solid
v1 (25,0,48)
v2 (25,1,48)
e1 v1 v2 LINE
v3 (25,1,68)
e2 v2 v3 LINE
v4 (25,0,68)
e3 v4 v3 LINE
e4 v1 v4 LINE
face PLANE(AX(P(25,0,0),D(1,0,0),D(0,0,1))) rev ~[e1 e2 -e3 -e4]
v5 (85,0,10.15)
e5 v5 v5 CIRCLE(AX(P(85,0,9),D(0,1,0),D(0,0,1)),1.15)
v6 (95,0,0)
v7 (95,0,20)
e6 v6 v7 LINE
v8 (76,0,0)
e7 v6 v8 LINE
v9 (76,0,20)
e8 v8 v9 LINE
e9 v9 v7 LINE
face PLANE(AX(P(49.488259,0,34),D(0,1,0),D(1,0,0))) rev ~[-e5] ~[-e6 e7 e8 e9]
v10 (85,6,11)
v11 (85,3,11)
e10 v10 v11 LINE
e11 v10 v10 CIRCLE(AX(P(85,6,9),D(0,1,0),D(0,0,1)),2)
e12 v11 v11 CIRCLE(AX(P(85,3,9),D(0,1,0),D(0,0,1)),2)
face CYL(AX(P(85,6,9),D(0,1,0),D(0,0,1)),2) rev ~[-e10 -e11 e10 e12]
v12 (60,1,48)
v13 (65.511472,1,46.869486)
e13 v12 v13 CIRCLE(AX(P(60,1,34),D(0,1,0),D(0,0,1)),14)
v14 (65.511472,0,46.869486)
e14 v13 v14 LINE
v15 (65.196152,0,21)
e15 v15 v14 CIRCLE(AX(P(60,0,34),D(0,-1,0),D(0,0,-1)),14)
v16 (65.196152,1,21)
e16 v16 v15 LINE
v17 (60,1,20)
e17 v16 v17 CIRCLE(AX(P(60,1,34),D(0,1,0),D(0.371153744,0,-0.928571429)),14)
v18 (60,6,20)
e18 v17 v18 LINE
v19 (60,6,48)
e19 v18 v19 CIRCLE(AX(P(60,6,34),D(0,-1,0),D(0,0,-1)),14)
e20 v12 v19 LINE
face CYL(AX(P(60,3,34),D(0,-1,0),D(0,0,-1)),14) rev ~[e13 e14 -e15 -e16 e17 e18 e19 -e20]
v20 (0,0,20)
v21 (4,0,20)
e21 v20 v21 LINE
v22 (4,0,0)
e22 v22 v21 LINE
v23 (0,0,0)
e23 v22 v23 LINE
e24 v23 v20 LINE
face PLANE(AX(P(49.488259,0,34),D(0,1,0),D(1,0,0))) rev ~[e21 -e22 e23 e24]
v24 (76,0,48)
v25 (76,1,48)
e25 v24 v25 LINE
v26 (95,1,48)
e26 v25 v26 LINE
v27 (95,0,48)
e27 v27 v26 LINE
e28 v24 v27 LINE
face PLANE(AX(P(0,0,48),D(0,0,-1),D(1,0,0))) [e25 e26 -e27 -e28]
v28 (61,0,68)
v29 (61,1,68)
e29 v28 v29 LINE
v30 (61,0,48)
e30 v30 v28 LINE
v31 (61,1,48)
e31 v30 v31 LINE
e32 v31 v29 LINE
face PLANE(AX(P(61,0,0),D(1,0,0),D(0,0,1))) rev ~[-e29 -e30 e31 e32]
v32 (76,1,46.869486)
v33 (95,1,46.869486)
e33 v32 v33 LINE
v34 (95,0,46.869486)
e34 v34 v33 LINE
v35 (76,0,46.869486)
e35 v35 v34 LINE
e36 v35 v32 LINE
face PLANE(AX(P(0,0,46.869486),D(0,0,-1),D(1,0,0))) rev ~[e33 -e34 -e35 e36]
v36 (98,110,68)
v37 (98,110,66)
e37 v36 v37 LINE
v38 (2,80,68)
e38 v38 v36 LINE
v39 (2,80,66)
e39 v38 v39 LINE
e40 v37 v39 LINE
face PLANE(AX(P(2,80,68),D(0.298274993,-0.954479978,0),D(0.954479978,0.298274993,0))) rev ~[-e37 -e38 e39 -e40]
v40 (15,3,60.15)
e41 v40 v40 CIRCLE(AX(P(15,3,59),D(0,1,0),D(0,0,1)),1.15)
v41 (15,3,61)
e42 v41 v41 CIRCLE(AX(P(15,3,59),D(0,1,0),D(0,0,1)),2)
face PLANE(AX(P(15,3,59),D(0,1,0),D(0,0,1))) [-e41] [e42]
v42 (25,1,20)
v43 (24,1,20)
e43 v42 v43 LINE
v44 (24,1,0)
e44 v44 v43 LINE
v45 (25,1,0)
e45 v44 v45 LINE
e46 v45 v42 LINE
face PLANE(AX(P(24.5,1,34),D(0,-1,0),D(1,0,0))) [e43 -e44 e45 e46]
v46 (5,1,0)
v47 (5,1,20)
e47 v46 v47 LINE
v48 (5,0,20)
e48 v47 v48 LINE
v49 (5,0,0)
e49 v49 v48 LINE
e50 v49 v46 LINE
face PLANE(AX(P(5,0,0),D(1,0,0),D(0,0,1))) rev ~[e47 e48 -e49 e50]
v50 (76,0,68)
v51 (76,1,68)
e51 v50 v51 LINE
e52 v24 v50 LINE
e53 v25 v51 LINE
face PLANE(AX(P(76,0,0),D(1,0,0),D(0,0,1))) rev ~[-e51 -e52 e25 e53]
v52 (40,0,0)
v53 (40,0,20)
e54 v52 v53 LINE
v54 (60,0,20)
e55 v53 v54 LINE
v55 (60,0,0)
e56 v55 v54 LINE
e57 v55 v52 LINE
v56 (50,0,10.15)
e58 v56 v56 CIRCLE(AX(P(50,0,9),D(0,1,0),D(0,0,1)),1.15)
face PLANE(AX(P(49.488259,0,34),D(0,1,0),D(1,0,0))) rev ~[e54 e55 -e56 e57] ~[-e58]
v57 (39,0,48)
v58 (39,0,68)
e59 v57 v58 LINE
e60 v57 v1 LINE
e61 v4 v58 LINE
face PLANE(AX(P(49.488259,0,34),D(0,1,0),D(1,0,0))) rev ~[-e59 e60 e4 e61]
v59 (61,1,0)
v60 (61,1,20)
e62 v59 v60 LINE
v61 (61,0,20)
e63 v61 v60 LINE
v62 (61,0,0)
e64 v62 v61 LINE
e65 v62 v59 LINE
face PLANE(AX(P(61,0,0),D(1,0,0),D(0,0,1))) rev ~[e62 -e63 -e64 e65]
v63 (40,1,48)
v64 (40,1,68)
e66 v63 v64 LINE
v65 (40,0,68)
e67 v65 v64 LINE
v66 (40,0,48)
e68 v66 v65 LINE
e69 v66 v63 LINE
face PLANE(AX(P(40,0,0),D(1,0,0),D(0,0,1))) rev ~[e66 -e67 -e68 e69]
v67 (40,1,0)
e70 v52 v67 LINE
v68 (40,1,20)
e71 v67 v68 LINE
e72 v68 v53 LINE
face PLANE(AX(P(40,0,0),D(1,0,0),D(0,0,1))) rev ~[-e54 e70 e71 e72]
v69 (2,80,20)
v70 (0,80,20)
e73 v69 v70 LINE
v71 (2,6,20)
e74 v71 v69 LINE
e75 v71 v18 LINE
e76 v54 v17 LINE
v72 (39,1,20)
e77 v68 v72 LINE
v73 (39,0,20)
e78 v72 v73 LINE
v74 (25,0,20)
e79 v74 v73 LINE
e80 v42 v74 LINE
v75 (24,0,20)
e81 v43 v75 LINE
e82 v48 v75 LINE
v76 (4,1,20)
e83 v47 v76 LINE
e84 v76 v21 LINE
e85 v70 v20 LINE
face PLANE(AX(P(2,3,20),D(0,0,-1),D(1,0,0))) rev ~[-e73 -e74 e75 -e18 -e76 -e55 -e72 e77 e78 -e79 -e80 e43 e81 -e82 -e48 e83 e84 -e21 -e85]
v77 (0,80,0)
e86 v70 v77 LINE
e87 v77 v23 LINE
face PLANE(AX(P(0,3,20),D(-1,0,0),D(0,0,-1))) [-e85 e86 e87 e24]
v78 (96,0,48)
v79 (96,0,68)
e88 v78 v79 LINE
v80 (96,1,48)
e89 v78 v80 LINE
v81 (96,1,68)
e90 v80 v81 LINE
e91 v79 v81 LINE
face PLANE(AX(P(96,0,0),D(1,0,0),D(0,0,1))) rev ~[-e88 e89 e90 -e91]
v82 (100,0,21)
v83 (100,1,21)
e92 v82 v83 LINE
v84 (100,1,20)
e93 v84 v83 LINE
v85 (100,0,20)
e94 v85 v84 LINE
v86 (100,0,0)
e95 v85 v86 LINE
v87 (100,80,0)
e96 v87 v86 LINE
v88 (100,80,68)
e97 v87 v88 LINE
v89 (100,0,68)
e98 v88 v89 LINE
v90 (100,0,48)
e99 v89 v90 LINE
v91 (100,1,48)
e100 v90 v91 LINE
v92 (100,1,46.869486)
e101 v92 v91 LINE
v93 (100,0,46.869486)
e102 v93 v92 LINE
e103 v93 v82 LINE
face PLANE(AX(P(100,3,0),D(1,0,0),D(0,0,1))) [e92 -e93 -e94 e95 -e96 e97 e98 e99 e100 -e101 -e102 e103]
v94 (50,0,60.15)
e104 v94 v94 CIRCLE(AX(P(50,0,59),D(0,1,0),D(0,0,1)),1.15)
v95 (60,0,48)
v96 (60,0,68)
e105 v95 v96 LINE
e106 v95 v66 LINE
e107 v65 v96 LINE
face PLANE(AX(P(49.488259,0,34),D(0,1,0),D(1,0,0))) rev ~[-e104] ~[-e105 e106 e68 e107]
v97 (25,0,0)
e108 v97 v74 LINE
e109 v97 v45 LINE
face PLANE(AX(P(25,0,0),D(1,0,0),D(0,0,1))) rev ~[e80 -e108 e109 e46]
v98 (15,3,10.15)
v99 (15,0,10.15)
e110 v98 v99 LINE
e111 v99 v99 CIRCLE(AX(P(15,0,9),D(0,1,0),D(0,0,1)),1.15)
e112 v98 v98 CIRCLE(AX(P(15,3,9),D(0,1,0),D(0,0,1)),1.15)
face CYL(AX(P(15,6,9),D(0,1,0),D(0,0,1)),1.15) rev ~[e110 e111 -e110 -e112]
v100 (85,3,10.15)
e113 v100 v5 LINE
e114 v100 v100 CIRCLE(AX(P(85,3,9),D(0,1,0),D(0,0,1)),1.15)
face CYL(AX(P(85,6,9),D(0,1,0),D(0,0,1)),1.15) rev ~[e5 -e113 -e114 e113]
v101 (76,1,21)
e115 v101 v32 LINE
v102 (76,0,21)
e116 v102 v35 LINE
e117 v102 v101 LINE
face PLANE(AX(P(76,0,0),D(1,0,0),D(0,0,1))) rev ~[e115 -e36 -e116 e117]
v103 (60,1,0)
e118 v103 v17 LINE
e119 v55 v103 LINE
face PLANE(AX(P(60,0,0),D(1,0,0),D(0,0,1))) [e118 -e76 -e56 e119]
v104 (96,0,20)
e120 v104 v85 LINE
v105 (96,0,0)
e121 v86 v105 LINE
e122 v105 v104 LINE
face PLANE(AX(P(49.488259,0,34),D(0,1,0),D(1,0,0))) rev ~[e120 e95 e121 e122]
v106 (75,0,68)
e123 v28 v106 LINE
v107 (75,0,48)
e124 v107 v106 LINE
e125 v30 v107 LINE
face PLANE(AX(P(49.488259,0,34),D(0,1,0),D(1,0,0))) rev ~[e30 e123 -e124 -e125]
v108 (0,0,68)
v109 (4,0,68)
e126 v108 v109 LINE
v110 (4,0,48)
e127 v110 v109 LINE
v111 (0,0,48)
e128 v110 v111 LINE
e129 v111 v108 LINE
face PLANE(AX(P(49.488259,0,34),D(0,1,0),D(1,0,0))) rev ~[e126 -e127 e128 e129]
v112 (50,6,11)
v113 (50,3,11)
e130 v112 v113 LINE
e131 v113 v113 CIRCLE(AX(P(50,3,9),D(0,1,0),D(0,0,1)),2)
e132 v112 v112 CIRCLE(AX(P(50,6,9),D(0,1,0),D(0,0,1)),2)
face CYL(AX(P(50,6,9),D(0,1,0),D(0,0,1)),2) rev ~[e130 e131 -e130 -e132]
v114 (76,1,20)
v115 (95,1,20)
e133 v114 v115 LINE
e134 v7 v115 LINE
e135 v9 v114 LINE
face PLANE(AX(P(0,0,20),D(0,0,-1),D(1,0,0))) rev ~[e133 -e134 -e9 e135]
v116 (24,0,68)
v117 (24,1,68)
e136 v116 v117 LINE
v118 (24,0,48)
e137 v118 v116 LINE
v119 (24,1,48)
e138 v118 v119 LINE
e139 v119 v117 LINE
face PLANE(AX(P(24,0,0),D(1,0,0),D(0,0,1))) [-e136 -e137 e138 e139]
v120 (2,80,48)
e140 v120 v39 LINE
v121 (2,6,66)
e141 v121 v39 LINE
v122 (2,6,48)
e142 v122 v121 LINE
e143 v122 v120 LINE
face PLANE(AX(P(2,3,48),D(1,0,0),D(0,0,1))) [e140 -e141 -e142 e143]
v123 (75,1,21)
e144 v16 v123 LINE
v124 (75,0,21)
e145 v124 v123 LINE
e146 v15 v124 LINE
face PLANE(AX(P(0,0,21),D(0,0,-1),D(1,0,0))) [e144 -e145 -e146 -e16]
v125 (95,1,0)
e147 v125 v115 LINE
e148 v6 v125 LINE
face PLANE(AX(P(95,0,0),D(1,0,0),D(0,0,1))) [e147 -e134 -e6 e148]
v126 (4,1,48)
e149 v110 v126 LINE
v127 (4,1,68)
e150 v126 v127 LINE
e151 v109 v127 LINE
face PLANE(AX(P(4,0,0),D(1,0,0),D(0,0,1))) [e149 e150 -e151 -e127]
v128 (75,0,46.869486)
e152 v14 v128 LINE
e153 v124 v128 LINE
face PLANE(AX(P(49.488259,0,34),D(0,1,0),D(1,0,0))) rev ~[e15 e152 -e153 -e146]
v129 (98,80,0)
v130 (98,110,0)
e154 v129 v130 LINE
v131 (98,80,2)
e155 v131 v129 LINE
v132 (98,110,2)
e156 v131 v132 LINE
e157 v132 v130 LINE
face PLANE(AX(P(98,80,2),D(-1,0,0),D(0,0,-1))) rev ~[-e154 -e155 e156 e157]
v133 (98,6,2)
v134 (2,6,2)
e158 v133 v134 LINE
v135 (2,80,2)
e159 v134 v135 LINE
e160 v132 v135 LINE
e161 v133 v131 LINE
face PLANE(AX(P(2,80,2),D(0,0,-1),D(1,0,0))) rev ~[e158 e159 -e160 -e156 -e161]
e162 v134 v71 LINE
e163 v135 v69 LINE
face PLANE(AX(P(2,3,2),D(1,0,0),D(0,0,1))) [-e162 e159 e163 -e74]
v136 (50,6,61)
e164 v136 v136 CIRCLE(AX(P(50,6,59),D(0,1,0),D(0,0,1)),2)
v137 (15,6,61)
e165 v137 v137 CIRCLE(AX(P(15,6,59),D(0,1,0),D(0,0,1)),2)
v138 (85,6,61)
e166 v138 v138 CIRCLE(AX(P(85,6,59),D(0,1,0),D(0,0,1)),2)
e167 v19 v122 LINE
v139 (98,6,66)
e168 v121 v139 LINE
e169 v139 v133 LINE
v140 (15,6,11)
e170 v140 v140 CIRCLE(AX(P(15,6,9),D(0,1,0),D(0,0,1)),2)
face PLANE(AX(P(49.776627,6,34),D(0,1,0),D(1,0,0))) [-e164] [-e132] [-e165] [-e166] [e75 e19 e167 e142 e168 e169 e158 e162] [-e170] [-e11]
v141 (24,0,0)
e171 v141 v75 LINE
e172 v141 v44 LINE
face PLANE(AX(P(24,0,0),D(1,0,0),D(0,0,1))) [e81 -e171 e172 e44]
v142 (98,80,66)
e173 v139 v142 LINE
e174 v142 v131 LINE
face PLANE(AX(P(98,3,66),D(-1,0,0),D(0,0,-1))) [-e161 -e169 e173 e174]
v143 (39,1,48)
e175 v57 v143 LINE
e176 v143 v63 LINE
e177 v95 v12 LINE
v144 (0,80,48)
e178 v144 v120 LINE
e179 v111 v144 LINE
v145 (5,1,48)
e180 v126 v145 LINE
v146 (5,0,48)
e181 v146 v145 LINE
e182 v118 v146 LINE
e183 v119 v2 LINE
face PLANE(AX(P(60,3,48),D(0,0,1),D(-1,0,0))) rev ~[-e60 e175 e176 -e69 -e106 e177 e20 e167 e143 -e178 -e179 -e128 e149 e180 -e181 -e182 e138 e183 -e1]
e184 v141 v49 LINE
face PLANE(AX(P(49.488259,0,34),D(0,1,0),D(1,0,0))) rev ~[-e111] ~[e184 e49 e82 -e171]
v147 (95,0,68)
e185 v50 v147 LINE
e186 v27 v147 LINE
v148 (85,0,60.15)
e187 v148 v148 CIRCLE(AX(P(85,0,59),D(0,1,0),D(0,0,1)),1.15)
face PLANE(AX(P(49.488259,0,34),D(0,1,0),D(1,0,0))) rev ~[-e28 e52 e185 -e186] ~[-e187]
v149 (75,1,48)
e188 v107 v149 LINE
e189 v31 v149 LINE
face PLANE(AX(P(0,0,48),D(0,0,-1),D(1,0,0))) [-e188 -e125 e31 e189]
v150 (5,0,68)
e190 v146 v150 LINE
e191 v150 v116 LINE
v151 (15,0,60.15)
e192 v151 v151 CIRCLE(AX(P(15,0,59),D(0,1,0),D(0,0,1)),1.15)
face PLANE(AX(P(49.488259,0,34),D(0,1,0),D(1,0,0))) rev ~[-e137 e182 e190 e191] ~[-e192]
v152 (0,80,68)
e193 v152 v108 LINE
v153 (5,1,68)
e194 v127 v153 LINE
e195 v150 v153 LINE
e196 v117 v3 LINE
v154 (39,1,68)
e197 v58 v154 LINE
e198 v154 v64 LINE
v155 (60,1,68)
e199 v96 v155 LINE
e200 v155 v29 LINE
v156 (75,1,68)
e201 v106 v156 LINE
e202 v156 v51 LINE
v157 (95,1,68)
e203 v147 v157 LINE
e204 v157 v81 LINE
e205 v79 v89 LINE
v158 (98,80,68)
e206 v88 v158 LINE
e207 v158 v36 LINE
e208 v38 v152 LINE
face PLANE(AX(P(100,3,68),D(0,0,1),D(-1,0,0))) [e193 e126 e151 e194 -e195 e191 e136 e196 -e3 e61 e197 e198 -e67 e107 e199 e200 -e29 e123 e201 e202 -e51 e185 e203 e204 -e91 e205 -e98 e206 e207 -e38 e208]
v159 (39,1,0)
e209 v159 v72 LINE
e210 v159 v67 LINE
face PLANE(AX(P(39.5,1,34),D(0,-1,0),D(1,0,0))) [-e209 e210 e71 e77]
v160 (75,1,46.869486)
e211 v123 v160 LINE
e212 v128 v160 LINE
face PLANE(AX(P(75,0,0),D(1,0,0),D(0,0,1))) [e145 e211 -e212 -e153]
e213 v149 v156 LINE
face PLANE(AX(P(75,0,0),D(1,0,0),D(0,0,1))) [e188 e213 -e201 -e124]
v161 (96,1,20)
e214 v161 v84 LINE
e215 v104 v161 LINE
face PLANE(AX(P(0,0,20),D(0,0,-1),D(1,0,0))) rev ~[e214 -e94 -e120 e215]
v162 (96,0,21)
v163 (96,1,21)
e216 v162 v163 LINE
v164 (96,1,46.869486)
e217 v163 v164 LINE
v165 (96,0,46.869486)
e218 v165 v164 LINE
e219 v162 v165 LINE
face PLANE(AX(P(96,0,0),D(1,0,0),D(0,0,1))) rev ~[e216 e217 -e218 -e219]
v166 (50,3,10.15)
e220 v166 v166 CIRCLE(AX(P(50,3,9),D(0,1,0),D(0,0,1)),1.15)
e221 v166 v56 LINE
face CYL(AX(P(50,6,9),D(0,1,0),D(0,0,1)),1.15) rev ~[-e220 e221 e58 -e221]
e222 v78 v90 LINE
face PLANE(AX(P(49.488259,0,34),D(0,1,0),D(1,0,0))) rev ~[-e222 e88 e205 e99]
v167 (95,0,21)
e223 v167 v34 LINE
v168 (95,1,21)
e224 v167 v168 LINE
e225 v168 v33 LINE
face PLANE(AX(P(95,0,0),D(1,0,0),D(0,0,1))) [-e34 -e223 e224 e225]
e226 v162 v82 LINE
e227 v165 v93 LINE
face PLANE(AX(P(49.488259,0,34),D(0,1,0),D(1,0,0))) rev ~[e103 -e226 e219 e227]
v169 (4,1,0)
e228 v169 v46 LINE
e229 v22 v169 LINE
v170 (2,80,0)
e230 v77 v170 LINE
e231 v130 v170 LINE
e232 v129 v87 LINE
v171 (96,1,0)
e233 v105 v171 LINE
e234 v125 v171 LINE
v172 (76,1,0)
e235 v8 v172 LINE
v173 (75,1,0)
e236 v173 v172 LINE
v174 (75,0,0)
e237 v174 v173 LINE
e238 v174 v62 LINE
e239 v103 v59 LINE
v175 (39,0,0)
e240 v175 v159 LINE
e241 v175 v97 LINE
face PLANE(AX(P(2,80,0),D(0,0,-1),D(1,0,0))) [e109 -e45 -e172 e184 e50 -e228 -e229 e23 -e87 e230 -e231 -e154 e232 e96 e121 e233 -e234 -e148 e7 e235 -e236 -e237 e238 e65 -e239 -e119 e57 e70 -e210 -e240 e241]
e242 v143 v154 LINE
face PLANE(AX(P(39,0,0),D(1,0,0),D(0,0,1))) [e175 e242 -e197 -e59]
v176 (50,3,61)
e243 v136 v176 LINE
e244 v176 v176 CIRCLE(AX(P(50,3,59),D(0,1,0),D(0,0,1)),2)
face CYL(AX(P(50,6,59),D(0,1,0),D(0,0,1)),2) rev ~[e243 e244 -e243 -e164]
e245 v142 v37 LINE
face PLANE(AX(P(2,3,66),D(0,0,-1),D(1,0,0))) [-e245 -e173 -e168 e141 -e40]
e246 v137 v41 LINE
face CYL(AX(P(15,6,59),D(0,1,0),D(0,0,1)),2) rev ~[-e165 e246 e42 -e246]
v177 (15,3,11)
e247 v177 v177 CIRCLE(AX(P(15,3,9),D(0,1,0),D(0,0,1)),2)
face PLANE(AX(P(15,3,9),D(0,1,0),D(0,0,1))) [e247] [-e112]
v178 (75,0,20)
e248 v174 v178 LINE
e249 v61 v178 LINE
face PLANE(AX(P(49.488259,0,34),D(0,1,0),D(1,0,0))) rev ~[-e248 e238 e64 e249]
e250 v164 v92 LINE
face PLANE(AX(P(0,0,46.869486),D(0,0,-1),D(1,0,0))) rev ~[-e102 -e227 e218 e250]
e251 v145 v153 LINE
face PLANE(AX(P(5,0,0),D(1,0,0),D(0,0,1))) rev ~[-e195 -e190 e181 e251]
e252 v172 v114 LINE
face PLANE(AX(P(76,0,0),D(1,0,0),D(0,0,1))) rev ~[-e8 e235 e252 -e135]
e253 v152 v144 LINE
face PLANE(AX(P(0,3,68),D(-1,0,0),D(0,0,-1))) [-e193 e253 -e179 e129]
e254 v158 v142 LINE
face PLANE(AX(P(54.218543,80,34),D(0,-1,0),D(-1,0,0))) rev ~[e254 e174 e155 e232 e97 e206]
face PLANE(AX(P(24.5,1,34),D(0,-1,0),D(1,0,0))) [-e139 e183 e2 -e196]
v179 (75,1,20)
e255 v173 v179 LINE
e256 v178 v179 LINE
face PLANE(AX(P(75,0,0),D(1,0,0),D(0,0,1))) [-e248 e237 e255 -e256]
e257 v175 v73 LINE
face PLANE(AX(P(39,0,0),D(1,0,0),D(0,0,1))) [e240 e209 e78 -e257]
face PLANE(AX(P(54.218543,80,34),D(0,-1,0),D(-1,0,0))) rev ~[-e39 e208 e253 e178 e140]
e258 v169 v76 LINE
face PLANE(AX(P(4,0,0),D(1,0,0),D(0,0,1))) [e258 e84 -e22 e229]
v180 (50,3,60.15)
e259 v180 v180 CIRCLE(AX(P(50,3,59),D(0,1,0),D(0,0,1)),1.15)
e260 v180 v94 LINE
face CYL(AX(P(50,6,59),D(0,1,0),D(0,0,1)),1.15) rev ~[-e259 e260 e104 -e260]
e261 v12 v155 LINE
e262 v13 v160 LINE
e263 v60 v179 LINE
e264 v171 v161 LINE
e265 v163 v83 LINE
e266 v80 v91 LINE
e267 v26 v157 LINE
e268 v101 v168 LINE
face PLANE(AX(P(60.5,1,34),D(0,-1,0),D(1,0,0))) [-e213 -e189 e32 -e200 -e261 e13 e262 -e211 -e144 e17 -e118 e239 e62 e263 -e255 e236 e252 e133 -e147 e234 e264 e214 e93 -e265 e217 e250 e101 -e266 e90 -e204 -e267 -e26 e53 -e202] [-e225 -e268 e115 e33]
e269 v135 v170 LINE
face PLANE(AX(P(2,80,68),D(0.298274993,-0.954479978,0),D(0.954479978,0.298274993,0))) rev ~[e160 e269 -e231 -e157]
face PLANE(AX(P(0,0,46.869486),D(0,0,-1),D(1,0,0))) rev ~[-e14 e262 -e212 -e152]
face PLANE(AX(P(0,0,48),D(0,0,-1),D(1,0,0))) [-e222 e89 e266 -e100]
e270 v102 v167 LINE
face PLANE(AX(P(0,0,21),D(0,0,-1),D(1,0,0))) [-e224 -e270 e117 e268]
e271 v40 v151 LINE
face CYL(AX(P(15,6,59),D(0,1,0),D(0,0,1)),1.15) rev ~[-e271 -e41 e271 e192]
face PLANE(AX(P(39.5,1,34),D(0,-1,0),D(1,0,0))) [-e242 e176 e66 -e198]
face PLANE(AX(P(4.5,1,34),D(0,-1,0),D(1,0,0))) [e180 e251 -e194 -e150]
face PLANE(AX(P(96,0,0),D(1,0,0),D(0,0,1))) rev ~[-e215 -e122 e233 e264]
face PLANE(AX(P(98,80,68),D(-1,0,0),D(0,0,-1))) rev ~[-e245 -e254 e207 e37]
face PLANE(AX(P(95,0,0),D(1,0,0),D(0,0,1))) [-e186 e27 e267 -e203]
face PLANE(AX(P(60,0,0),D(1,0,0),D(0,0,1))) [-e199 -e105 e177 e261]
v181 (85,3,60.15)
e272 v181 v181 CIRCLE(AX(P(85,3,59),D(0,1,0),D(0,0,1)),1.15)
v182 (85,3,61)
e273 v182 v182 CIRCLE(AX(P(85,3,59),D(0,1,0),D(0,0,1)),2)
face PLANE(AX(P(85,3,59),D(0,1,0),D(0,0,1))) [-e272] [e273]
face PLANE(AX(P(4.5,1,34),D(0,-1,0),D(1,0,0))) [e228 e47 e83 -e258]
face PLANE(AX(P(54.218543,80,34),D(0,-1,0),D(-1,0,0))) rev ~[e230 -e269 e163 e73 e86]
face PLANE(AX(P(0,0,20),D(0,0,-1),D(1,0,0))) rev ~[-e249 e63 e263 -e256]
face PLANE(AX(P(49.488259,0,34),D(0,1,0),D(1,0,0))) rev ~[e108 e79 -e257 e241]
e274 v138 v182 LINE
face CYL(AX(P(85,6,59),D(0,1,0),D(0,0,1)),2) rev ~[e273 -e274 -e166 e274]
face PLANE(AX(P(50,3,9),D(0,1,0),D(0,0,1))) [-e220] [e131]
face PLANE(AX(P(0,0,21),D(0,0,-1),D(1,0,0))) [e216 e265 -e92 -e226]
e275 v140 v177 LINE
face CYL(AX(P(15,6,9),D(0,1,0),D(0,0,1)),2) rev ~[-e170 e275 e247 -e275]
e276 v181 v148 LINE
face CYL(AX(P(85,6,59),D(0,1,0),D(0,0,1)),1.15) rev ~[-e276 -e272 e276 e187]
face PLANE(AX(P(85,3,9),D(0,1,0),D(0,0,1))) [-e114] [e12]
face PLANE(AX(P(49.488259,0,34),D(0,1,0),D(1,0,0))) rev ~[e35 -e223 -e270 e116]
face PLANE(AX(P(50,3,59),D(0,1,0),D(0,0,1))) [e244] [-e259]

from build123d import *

# Parameters (mm, degrees)
EXTRUDE_1_DEPTH     = 3
EXTRUDE_2_DEPTH     = 77
SKETCH_3_W          = 96
SKETCH_3_H          = 2
EXTRUDE_3_DEPTH     = 30
CUT_EXTRUDE_1_DEPTH = 164.474768695
EXTRUDE_4_DEPTH     = 3
SKETCH_8_R          = 2
CUT_EXTRUDE_2_DEPTH = 3
SKETCH_9_R          = 1.15
CUT_EXTRUDE_3_DEPTH = 23
SKETCH_10_W         = 1
SKETCH_10_H         = 68
CUT_EXTRUDE_4_DEPTH = 1
SKETCH_11_W         = 100
SKETCH_11_H         = 1.130513839
SKETCH_11_H_2       = 1
CUT_EXTRUDE_5_DEPTH = 1


with BuildPart() as part:
    # 草图1 → 凸台-拉伸1 (new body)
    with BuildSketch(Plane(origin=(0, 0, 0), x_dir=(1, 0, 0), z_dir=(0, 1, 0))):
        with BuildLine():
            Line((0, 0), (0, -20))
            Line((0, -20), (60, -20))
            ThreePointArc((60, -20), (74, -34), (60, -48))
            Line((60, -48), (0, -48))
            Line((0, -48), (0, -68))
            Line((0, -68), (100, -68))
            Line((100, -68), (100, 0))
            Line((100, 0), (0, 0))
        make_face()
    extrude(amount=EXTRUDE_1_DEPTH)

    # 草图2 → 凸台-拉伸2 (add)
    with BuildSketch(Plane(origin=(0, 3, 0), x_dir=(1, 0, 0), z_dir=(0, 1, 0))):
        Polygon((2, -20), (0, -20), (0, 0), (100, 0), (100, -68), (0, -68), (0, -48), (2, -48), (2, -66), (98, -66), (98, -2), (2, -2), align=None)
    extrude(amount=EXTRUDE_2_DEPTH)

    # 草图3 → 凸台-拉伸3 (add)
    with BuildSketch(Plane(origin=(0, 80, 0), x_dir=(1, 0, 0), z_dir=(0, 1, 0))):
        with Locations((50, -1)):
            Rectangle(SKETCH_3_W, SKETCH_3_H)
        with Locations((50, -67)):
            Rectangle(SKETCH_3_W, SKETCH_3_H)
    extrude(amount=EXTRUDE_3_DEPTH)

    # 草图6 → 切除-拉伸1 (cut, through all)
    with BuildSketch(Plane.XY.offset(68)):
        Polygon((2, 110), (2, 80), (98, 110), align=None)
    extrude(amount=-CUT_EXTRUDE_1_DEPTH, mode=Mode.SUBTRACT)

    # 草图7 → 凸台-拉伸4 (add)
    with BuildSketch(Plane(origin=(0, 3, 0), x_dir=(1, 0, 0), z_dir=(0, 1, 0))):
        with BuildLine():
            Line((98, -2), (2, -2))
            Line((2, -2), (2, -20))
            Line((2, -20), (60, -20))
            ThreePointArc((60, -20), (74, -34), (60, -48))
            Line((60, -48), (2, -48))
            Line((2, -48), (2, -66))
            Line((2, -66), (98, -66))
            Line((98, -66), (98, -2))
        make_face()
    extrude(amount=EXTRUDE_4_DEPTH)

    # 草图8 → 切除-拉伸2 (cut)
    with BuildSketch(Plane(origin=(0, 6, 0), x_dir=(1, 0, 0), z_dir=(0, 1, 0))):
        with Locations(Location((15, -9, 0), (0, 0, 270))):
            Circle(SKETCH_8_R)
        with Locations(Location((50, -9, 0), (0, 0, 270))):
            Circle(SKETCH_8_R)
        with Locations(Location((85, -9, 0), (0, 0, 270))):
            Circle(SKETCH_8_R)
        with Locations(Location((15, -59, 0), (0, 0, 270))):
            Circle(SKETCH_8_R)
        with Locations(Location((50, -59, 0), (0, 0, 270))):
            Circle(SKETCH_8_R)
        with Locations(Location((85, -59, 0), (0, 0, 270))):
            Circle(SKETCH_8_R)
    extrude(amount=-CUT_EXTRUDE_2_DEPTH, mode=Mode.SUBTRACT)

    # 草图9 → 切除-拉伸3 (cut)
    with BuildSketch(Plane(origin=(0, 6, 0), x_dir=(1, 0, 0), z_dir=(0, 1, 0))):
        with Locations(Location((15, -9, 0), (0, 0, 270))):
            Circle(SKETCH_9_R)
        with Locations(Location((50, -9, 0), (0, 0, 270))):
            Circle(SKETCH_9_R)
        with Locations(Location((85, -9, 0), (0, 0, 270))):
            Circle(SKETCH_9_R)
        with Locations(Location((85, -59, 0), (0, 0, 270))):
            Circle(SKETCH_9_R)
        with Locations(Location((50, -59, 0), (0, 0, 270))):
            Circle(SKETCH_9_R)
        with Locations(Location((15, -59, 0), (0, 0, 270))):
            Circle(SKETCH_9_R)
    extrude(amount=-CUT_EXTRUDE_3_DEPTH, mode=Mode.SUBTRACT)

    # 草图10 → 切除-拉伸4 (cut)
    with BuildSketch(Plane.XZ):
        with Locations((24.5, 34)):
            Rectangle(SKETCH_10_W, SKETCH_10_H)
        with Locations((39.5, 34)):
            Rectangle(SKETCH_10_W, SKETCH_10_H)
        with Locations((60.5, 34)):
            Rectangle(SKETCH_10_W, SKETCH_10_H)
        with Locations((75.5, 34)):
            Rectangle(SKETCH_10_W, SKETCH_10_H)
        with Locations((95.5, 34)):
            Rectangle(SKETCH_10_W, SKETCH_10_H)
        with Locations((4.5, 34)):
            Rectangle(SKETCH_10_W, SKETCH_10_H)
    extrude(amount=-CUT_EXTRUDE_4_DEPTH, mode=Mode.SUBTRACT)

    # 草图11 → 切除-拉伸5 (cut)
    with BuildSketch(Plane.XZ):
        with Locations((50, 47.43474308)):
            Rectangle(SKETCH_11_W, SKETCH_11_H)
        with Locations((50, 20.5)):
            Rectangle(SKETCH_11_W, SKETCH_11_H_2)
    extrude(amount=-CUT_EXTRUDE_5_DEPTH, mode=Mode.SUBTRACT)


solid = part.part
